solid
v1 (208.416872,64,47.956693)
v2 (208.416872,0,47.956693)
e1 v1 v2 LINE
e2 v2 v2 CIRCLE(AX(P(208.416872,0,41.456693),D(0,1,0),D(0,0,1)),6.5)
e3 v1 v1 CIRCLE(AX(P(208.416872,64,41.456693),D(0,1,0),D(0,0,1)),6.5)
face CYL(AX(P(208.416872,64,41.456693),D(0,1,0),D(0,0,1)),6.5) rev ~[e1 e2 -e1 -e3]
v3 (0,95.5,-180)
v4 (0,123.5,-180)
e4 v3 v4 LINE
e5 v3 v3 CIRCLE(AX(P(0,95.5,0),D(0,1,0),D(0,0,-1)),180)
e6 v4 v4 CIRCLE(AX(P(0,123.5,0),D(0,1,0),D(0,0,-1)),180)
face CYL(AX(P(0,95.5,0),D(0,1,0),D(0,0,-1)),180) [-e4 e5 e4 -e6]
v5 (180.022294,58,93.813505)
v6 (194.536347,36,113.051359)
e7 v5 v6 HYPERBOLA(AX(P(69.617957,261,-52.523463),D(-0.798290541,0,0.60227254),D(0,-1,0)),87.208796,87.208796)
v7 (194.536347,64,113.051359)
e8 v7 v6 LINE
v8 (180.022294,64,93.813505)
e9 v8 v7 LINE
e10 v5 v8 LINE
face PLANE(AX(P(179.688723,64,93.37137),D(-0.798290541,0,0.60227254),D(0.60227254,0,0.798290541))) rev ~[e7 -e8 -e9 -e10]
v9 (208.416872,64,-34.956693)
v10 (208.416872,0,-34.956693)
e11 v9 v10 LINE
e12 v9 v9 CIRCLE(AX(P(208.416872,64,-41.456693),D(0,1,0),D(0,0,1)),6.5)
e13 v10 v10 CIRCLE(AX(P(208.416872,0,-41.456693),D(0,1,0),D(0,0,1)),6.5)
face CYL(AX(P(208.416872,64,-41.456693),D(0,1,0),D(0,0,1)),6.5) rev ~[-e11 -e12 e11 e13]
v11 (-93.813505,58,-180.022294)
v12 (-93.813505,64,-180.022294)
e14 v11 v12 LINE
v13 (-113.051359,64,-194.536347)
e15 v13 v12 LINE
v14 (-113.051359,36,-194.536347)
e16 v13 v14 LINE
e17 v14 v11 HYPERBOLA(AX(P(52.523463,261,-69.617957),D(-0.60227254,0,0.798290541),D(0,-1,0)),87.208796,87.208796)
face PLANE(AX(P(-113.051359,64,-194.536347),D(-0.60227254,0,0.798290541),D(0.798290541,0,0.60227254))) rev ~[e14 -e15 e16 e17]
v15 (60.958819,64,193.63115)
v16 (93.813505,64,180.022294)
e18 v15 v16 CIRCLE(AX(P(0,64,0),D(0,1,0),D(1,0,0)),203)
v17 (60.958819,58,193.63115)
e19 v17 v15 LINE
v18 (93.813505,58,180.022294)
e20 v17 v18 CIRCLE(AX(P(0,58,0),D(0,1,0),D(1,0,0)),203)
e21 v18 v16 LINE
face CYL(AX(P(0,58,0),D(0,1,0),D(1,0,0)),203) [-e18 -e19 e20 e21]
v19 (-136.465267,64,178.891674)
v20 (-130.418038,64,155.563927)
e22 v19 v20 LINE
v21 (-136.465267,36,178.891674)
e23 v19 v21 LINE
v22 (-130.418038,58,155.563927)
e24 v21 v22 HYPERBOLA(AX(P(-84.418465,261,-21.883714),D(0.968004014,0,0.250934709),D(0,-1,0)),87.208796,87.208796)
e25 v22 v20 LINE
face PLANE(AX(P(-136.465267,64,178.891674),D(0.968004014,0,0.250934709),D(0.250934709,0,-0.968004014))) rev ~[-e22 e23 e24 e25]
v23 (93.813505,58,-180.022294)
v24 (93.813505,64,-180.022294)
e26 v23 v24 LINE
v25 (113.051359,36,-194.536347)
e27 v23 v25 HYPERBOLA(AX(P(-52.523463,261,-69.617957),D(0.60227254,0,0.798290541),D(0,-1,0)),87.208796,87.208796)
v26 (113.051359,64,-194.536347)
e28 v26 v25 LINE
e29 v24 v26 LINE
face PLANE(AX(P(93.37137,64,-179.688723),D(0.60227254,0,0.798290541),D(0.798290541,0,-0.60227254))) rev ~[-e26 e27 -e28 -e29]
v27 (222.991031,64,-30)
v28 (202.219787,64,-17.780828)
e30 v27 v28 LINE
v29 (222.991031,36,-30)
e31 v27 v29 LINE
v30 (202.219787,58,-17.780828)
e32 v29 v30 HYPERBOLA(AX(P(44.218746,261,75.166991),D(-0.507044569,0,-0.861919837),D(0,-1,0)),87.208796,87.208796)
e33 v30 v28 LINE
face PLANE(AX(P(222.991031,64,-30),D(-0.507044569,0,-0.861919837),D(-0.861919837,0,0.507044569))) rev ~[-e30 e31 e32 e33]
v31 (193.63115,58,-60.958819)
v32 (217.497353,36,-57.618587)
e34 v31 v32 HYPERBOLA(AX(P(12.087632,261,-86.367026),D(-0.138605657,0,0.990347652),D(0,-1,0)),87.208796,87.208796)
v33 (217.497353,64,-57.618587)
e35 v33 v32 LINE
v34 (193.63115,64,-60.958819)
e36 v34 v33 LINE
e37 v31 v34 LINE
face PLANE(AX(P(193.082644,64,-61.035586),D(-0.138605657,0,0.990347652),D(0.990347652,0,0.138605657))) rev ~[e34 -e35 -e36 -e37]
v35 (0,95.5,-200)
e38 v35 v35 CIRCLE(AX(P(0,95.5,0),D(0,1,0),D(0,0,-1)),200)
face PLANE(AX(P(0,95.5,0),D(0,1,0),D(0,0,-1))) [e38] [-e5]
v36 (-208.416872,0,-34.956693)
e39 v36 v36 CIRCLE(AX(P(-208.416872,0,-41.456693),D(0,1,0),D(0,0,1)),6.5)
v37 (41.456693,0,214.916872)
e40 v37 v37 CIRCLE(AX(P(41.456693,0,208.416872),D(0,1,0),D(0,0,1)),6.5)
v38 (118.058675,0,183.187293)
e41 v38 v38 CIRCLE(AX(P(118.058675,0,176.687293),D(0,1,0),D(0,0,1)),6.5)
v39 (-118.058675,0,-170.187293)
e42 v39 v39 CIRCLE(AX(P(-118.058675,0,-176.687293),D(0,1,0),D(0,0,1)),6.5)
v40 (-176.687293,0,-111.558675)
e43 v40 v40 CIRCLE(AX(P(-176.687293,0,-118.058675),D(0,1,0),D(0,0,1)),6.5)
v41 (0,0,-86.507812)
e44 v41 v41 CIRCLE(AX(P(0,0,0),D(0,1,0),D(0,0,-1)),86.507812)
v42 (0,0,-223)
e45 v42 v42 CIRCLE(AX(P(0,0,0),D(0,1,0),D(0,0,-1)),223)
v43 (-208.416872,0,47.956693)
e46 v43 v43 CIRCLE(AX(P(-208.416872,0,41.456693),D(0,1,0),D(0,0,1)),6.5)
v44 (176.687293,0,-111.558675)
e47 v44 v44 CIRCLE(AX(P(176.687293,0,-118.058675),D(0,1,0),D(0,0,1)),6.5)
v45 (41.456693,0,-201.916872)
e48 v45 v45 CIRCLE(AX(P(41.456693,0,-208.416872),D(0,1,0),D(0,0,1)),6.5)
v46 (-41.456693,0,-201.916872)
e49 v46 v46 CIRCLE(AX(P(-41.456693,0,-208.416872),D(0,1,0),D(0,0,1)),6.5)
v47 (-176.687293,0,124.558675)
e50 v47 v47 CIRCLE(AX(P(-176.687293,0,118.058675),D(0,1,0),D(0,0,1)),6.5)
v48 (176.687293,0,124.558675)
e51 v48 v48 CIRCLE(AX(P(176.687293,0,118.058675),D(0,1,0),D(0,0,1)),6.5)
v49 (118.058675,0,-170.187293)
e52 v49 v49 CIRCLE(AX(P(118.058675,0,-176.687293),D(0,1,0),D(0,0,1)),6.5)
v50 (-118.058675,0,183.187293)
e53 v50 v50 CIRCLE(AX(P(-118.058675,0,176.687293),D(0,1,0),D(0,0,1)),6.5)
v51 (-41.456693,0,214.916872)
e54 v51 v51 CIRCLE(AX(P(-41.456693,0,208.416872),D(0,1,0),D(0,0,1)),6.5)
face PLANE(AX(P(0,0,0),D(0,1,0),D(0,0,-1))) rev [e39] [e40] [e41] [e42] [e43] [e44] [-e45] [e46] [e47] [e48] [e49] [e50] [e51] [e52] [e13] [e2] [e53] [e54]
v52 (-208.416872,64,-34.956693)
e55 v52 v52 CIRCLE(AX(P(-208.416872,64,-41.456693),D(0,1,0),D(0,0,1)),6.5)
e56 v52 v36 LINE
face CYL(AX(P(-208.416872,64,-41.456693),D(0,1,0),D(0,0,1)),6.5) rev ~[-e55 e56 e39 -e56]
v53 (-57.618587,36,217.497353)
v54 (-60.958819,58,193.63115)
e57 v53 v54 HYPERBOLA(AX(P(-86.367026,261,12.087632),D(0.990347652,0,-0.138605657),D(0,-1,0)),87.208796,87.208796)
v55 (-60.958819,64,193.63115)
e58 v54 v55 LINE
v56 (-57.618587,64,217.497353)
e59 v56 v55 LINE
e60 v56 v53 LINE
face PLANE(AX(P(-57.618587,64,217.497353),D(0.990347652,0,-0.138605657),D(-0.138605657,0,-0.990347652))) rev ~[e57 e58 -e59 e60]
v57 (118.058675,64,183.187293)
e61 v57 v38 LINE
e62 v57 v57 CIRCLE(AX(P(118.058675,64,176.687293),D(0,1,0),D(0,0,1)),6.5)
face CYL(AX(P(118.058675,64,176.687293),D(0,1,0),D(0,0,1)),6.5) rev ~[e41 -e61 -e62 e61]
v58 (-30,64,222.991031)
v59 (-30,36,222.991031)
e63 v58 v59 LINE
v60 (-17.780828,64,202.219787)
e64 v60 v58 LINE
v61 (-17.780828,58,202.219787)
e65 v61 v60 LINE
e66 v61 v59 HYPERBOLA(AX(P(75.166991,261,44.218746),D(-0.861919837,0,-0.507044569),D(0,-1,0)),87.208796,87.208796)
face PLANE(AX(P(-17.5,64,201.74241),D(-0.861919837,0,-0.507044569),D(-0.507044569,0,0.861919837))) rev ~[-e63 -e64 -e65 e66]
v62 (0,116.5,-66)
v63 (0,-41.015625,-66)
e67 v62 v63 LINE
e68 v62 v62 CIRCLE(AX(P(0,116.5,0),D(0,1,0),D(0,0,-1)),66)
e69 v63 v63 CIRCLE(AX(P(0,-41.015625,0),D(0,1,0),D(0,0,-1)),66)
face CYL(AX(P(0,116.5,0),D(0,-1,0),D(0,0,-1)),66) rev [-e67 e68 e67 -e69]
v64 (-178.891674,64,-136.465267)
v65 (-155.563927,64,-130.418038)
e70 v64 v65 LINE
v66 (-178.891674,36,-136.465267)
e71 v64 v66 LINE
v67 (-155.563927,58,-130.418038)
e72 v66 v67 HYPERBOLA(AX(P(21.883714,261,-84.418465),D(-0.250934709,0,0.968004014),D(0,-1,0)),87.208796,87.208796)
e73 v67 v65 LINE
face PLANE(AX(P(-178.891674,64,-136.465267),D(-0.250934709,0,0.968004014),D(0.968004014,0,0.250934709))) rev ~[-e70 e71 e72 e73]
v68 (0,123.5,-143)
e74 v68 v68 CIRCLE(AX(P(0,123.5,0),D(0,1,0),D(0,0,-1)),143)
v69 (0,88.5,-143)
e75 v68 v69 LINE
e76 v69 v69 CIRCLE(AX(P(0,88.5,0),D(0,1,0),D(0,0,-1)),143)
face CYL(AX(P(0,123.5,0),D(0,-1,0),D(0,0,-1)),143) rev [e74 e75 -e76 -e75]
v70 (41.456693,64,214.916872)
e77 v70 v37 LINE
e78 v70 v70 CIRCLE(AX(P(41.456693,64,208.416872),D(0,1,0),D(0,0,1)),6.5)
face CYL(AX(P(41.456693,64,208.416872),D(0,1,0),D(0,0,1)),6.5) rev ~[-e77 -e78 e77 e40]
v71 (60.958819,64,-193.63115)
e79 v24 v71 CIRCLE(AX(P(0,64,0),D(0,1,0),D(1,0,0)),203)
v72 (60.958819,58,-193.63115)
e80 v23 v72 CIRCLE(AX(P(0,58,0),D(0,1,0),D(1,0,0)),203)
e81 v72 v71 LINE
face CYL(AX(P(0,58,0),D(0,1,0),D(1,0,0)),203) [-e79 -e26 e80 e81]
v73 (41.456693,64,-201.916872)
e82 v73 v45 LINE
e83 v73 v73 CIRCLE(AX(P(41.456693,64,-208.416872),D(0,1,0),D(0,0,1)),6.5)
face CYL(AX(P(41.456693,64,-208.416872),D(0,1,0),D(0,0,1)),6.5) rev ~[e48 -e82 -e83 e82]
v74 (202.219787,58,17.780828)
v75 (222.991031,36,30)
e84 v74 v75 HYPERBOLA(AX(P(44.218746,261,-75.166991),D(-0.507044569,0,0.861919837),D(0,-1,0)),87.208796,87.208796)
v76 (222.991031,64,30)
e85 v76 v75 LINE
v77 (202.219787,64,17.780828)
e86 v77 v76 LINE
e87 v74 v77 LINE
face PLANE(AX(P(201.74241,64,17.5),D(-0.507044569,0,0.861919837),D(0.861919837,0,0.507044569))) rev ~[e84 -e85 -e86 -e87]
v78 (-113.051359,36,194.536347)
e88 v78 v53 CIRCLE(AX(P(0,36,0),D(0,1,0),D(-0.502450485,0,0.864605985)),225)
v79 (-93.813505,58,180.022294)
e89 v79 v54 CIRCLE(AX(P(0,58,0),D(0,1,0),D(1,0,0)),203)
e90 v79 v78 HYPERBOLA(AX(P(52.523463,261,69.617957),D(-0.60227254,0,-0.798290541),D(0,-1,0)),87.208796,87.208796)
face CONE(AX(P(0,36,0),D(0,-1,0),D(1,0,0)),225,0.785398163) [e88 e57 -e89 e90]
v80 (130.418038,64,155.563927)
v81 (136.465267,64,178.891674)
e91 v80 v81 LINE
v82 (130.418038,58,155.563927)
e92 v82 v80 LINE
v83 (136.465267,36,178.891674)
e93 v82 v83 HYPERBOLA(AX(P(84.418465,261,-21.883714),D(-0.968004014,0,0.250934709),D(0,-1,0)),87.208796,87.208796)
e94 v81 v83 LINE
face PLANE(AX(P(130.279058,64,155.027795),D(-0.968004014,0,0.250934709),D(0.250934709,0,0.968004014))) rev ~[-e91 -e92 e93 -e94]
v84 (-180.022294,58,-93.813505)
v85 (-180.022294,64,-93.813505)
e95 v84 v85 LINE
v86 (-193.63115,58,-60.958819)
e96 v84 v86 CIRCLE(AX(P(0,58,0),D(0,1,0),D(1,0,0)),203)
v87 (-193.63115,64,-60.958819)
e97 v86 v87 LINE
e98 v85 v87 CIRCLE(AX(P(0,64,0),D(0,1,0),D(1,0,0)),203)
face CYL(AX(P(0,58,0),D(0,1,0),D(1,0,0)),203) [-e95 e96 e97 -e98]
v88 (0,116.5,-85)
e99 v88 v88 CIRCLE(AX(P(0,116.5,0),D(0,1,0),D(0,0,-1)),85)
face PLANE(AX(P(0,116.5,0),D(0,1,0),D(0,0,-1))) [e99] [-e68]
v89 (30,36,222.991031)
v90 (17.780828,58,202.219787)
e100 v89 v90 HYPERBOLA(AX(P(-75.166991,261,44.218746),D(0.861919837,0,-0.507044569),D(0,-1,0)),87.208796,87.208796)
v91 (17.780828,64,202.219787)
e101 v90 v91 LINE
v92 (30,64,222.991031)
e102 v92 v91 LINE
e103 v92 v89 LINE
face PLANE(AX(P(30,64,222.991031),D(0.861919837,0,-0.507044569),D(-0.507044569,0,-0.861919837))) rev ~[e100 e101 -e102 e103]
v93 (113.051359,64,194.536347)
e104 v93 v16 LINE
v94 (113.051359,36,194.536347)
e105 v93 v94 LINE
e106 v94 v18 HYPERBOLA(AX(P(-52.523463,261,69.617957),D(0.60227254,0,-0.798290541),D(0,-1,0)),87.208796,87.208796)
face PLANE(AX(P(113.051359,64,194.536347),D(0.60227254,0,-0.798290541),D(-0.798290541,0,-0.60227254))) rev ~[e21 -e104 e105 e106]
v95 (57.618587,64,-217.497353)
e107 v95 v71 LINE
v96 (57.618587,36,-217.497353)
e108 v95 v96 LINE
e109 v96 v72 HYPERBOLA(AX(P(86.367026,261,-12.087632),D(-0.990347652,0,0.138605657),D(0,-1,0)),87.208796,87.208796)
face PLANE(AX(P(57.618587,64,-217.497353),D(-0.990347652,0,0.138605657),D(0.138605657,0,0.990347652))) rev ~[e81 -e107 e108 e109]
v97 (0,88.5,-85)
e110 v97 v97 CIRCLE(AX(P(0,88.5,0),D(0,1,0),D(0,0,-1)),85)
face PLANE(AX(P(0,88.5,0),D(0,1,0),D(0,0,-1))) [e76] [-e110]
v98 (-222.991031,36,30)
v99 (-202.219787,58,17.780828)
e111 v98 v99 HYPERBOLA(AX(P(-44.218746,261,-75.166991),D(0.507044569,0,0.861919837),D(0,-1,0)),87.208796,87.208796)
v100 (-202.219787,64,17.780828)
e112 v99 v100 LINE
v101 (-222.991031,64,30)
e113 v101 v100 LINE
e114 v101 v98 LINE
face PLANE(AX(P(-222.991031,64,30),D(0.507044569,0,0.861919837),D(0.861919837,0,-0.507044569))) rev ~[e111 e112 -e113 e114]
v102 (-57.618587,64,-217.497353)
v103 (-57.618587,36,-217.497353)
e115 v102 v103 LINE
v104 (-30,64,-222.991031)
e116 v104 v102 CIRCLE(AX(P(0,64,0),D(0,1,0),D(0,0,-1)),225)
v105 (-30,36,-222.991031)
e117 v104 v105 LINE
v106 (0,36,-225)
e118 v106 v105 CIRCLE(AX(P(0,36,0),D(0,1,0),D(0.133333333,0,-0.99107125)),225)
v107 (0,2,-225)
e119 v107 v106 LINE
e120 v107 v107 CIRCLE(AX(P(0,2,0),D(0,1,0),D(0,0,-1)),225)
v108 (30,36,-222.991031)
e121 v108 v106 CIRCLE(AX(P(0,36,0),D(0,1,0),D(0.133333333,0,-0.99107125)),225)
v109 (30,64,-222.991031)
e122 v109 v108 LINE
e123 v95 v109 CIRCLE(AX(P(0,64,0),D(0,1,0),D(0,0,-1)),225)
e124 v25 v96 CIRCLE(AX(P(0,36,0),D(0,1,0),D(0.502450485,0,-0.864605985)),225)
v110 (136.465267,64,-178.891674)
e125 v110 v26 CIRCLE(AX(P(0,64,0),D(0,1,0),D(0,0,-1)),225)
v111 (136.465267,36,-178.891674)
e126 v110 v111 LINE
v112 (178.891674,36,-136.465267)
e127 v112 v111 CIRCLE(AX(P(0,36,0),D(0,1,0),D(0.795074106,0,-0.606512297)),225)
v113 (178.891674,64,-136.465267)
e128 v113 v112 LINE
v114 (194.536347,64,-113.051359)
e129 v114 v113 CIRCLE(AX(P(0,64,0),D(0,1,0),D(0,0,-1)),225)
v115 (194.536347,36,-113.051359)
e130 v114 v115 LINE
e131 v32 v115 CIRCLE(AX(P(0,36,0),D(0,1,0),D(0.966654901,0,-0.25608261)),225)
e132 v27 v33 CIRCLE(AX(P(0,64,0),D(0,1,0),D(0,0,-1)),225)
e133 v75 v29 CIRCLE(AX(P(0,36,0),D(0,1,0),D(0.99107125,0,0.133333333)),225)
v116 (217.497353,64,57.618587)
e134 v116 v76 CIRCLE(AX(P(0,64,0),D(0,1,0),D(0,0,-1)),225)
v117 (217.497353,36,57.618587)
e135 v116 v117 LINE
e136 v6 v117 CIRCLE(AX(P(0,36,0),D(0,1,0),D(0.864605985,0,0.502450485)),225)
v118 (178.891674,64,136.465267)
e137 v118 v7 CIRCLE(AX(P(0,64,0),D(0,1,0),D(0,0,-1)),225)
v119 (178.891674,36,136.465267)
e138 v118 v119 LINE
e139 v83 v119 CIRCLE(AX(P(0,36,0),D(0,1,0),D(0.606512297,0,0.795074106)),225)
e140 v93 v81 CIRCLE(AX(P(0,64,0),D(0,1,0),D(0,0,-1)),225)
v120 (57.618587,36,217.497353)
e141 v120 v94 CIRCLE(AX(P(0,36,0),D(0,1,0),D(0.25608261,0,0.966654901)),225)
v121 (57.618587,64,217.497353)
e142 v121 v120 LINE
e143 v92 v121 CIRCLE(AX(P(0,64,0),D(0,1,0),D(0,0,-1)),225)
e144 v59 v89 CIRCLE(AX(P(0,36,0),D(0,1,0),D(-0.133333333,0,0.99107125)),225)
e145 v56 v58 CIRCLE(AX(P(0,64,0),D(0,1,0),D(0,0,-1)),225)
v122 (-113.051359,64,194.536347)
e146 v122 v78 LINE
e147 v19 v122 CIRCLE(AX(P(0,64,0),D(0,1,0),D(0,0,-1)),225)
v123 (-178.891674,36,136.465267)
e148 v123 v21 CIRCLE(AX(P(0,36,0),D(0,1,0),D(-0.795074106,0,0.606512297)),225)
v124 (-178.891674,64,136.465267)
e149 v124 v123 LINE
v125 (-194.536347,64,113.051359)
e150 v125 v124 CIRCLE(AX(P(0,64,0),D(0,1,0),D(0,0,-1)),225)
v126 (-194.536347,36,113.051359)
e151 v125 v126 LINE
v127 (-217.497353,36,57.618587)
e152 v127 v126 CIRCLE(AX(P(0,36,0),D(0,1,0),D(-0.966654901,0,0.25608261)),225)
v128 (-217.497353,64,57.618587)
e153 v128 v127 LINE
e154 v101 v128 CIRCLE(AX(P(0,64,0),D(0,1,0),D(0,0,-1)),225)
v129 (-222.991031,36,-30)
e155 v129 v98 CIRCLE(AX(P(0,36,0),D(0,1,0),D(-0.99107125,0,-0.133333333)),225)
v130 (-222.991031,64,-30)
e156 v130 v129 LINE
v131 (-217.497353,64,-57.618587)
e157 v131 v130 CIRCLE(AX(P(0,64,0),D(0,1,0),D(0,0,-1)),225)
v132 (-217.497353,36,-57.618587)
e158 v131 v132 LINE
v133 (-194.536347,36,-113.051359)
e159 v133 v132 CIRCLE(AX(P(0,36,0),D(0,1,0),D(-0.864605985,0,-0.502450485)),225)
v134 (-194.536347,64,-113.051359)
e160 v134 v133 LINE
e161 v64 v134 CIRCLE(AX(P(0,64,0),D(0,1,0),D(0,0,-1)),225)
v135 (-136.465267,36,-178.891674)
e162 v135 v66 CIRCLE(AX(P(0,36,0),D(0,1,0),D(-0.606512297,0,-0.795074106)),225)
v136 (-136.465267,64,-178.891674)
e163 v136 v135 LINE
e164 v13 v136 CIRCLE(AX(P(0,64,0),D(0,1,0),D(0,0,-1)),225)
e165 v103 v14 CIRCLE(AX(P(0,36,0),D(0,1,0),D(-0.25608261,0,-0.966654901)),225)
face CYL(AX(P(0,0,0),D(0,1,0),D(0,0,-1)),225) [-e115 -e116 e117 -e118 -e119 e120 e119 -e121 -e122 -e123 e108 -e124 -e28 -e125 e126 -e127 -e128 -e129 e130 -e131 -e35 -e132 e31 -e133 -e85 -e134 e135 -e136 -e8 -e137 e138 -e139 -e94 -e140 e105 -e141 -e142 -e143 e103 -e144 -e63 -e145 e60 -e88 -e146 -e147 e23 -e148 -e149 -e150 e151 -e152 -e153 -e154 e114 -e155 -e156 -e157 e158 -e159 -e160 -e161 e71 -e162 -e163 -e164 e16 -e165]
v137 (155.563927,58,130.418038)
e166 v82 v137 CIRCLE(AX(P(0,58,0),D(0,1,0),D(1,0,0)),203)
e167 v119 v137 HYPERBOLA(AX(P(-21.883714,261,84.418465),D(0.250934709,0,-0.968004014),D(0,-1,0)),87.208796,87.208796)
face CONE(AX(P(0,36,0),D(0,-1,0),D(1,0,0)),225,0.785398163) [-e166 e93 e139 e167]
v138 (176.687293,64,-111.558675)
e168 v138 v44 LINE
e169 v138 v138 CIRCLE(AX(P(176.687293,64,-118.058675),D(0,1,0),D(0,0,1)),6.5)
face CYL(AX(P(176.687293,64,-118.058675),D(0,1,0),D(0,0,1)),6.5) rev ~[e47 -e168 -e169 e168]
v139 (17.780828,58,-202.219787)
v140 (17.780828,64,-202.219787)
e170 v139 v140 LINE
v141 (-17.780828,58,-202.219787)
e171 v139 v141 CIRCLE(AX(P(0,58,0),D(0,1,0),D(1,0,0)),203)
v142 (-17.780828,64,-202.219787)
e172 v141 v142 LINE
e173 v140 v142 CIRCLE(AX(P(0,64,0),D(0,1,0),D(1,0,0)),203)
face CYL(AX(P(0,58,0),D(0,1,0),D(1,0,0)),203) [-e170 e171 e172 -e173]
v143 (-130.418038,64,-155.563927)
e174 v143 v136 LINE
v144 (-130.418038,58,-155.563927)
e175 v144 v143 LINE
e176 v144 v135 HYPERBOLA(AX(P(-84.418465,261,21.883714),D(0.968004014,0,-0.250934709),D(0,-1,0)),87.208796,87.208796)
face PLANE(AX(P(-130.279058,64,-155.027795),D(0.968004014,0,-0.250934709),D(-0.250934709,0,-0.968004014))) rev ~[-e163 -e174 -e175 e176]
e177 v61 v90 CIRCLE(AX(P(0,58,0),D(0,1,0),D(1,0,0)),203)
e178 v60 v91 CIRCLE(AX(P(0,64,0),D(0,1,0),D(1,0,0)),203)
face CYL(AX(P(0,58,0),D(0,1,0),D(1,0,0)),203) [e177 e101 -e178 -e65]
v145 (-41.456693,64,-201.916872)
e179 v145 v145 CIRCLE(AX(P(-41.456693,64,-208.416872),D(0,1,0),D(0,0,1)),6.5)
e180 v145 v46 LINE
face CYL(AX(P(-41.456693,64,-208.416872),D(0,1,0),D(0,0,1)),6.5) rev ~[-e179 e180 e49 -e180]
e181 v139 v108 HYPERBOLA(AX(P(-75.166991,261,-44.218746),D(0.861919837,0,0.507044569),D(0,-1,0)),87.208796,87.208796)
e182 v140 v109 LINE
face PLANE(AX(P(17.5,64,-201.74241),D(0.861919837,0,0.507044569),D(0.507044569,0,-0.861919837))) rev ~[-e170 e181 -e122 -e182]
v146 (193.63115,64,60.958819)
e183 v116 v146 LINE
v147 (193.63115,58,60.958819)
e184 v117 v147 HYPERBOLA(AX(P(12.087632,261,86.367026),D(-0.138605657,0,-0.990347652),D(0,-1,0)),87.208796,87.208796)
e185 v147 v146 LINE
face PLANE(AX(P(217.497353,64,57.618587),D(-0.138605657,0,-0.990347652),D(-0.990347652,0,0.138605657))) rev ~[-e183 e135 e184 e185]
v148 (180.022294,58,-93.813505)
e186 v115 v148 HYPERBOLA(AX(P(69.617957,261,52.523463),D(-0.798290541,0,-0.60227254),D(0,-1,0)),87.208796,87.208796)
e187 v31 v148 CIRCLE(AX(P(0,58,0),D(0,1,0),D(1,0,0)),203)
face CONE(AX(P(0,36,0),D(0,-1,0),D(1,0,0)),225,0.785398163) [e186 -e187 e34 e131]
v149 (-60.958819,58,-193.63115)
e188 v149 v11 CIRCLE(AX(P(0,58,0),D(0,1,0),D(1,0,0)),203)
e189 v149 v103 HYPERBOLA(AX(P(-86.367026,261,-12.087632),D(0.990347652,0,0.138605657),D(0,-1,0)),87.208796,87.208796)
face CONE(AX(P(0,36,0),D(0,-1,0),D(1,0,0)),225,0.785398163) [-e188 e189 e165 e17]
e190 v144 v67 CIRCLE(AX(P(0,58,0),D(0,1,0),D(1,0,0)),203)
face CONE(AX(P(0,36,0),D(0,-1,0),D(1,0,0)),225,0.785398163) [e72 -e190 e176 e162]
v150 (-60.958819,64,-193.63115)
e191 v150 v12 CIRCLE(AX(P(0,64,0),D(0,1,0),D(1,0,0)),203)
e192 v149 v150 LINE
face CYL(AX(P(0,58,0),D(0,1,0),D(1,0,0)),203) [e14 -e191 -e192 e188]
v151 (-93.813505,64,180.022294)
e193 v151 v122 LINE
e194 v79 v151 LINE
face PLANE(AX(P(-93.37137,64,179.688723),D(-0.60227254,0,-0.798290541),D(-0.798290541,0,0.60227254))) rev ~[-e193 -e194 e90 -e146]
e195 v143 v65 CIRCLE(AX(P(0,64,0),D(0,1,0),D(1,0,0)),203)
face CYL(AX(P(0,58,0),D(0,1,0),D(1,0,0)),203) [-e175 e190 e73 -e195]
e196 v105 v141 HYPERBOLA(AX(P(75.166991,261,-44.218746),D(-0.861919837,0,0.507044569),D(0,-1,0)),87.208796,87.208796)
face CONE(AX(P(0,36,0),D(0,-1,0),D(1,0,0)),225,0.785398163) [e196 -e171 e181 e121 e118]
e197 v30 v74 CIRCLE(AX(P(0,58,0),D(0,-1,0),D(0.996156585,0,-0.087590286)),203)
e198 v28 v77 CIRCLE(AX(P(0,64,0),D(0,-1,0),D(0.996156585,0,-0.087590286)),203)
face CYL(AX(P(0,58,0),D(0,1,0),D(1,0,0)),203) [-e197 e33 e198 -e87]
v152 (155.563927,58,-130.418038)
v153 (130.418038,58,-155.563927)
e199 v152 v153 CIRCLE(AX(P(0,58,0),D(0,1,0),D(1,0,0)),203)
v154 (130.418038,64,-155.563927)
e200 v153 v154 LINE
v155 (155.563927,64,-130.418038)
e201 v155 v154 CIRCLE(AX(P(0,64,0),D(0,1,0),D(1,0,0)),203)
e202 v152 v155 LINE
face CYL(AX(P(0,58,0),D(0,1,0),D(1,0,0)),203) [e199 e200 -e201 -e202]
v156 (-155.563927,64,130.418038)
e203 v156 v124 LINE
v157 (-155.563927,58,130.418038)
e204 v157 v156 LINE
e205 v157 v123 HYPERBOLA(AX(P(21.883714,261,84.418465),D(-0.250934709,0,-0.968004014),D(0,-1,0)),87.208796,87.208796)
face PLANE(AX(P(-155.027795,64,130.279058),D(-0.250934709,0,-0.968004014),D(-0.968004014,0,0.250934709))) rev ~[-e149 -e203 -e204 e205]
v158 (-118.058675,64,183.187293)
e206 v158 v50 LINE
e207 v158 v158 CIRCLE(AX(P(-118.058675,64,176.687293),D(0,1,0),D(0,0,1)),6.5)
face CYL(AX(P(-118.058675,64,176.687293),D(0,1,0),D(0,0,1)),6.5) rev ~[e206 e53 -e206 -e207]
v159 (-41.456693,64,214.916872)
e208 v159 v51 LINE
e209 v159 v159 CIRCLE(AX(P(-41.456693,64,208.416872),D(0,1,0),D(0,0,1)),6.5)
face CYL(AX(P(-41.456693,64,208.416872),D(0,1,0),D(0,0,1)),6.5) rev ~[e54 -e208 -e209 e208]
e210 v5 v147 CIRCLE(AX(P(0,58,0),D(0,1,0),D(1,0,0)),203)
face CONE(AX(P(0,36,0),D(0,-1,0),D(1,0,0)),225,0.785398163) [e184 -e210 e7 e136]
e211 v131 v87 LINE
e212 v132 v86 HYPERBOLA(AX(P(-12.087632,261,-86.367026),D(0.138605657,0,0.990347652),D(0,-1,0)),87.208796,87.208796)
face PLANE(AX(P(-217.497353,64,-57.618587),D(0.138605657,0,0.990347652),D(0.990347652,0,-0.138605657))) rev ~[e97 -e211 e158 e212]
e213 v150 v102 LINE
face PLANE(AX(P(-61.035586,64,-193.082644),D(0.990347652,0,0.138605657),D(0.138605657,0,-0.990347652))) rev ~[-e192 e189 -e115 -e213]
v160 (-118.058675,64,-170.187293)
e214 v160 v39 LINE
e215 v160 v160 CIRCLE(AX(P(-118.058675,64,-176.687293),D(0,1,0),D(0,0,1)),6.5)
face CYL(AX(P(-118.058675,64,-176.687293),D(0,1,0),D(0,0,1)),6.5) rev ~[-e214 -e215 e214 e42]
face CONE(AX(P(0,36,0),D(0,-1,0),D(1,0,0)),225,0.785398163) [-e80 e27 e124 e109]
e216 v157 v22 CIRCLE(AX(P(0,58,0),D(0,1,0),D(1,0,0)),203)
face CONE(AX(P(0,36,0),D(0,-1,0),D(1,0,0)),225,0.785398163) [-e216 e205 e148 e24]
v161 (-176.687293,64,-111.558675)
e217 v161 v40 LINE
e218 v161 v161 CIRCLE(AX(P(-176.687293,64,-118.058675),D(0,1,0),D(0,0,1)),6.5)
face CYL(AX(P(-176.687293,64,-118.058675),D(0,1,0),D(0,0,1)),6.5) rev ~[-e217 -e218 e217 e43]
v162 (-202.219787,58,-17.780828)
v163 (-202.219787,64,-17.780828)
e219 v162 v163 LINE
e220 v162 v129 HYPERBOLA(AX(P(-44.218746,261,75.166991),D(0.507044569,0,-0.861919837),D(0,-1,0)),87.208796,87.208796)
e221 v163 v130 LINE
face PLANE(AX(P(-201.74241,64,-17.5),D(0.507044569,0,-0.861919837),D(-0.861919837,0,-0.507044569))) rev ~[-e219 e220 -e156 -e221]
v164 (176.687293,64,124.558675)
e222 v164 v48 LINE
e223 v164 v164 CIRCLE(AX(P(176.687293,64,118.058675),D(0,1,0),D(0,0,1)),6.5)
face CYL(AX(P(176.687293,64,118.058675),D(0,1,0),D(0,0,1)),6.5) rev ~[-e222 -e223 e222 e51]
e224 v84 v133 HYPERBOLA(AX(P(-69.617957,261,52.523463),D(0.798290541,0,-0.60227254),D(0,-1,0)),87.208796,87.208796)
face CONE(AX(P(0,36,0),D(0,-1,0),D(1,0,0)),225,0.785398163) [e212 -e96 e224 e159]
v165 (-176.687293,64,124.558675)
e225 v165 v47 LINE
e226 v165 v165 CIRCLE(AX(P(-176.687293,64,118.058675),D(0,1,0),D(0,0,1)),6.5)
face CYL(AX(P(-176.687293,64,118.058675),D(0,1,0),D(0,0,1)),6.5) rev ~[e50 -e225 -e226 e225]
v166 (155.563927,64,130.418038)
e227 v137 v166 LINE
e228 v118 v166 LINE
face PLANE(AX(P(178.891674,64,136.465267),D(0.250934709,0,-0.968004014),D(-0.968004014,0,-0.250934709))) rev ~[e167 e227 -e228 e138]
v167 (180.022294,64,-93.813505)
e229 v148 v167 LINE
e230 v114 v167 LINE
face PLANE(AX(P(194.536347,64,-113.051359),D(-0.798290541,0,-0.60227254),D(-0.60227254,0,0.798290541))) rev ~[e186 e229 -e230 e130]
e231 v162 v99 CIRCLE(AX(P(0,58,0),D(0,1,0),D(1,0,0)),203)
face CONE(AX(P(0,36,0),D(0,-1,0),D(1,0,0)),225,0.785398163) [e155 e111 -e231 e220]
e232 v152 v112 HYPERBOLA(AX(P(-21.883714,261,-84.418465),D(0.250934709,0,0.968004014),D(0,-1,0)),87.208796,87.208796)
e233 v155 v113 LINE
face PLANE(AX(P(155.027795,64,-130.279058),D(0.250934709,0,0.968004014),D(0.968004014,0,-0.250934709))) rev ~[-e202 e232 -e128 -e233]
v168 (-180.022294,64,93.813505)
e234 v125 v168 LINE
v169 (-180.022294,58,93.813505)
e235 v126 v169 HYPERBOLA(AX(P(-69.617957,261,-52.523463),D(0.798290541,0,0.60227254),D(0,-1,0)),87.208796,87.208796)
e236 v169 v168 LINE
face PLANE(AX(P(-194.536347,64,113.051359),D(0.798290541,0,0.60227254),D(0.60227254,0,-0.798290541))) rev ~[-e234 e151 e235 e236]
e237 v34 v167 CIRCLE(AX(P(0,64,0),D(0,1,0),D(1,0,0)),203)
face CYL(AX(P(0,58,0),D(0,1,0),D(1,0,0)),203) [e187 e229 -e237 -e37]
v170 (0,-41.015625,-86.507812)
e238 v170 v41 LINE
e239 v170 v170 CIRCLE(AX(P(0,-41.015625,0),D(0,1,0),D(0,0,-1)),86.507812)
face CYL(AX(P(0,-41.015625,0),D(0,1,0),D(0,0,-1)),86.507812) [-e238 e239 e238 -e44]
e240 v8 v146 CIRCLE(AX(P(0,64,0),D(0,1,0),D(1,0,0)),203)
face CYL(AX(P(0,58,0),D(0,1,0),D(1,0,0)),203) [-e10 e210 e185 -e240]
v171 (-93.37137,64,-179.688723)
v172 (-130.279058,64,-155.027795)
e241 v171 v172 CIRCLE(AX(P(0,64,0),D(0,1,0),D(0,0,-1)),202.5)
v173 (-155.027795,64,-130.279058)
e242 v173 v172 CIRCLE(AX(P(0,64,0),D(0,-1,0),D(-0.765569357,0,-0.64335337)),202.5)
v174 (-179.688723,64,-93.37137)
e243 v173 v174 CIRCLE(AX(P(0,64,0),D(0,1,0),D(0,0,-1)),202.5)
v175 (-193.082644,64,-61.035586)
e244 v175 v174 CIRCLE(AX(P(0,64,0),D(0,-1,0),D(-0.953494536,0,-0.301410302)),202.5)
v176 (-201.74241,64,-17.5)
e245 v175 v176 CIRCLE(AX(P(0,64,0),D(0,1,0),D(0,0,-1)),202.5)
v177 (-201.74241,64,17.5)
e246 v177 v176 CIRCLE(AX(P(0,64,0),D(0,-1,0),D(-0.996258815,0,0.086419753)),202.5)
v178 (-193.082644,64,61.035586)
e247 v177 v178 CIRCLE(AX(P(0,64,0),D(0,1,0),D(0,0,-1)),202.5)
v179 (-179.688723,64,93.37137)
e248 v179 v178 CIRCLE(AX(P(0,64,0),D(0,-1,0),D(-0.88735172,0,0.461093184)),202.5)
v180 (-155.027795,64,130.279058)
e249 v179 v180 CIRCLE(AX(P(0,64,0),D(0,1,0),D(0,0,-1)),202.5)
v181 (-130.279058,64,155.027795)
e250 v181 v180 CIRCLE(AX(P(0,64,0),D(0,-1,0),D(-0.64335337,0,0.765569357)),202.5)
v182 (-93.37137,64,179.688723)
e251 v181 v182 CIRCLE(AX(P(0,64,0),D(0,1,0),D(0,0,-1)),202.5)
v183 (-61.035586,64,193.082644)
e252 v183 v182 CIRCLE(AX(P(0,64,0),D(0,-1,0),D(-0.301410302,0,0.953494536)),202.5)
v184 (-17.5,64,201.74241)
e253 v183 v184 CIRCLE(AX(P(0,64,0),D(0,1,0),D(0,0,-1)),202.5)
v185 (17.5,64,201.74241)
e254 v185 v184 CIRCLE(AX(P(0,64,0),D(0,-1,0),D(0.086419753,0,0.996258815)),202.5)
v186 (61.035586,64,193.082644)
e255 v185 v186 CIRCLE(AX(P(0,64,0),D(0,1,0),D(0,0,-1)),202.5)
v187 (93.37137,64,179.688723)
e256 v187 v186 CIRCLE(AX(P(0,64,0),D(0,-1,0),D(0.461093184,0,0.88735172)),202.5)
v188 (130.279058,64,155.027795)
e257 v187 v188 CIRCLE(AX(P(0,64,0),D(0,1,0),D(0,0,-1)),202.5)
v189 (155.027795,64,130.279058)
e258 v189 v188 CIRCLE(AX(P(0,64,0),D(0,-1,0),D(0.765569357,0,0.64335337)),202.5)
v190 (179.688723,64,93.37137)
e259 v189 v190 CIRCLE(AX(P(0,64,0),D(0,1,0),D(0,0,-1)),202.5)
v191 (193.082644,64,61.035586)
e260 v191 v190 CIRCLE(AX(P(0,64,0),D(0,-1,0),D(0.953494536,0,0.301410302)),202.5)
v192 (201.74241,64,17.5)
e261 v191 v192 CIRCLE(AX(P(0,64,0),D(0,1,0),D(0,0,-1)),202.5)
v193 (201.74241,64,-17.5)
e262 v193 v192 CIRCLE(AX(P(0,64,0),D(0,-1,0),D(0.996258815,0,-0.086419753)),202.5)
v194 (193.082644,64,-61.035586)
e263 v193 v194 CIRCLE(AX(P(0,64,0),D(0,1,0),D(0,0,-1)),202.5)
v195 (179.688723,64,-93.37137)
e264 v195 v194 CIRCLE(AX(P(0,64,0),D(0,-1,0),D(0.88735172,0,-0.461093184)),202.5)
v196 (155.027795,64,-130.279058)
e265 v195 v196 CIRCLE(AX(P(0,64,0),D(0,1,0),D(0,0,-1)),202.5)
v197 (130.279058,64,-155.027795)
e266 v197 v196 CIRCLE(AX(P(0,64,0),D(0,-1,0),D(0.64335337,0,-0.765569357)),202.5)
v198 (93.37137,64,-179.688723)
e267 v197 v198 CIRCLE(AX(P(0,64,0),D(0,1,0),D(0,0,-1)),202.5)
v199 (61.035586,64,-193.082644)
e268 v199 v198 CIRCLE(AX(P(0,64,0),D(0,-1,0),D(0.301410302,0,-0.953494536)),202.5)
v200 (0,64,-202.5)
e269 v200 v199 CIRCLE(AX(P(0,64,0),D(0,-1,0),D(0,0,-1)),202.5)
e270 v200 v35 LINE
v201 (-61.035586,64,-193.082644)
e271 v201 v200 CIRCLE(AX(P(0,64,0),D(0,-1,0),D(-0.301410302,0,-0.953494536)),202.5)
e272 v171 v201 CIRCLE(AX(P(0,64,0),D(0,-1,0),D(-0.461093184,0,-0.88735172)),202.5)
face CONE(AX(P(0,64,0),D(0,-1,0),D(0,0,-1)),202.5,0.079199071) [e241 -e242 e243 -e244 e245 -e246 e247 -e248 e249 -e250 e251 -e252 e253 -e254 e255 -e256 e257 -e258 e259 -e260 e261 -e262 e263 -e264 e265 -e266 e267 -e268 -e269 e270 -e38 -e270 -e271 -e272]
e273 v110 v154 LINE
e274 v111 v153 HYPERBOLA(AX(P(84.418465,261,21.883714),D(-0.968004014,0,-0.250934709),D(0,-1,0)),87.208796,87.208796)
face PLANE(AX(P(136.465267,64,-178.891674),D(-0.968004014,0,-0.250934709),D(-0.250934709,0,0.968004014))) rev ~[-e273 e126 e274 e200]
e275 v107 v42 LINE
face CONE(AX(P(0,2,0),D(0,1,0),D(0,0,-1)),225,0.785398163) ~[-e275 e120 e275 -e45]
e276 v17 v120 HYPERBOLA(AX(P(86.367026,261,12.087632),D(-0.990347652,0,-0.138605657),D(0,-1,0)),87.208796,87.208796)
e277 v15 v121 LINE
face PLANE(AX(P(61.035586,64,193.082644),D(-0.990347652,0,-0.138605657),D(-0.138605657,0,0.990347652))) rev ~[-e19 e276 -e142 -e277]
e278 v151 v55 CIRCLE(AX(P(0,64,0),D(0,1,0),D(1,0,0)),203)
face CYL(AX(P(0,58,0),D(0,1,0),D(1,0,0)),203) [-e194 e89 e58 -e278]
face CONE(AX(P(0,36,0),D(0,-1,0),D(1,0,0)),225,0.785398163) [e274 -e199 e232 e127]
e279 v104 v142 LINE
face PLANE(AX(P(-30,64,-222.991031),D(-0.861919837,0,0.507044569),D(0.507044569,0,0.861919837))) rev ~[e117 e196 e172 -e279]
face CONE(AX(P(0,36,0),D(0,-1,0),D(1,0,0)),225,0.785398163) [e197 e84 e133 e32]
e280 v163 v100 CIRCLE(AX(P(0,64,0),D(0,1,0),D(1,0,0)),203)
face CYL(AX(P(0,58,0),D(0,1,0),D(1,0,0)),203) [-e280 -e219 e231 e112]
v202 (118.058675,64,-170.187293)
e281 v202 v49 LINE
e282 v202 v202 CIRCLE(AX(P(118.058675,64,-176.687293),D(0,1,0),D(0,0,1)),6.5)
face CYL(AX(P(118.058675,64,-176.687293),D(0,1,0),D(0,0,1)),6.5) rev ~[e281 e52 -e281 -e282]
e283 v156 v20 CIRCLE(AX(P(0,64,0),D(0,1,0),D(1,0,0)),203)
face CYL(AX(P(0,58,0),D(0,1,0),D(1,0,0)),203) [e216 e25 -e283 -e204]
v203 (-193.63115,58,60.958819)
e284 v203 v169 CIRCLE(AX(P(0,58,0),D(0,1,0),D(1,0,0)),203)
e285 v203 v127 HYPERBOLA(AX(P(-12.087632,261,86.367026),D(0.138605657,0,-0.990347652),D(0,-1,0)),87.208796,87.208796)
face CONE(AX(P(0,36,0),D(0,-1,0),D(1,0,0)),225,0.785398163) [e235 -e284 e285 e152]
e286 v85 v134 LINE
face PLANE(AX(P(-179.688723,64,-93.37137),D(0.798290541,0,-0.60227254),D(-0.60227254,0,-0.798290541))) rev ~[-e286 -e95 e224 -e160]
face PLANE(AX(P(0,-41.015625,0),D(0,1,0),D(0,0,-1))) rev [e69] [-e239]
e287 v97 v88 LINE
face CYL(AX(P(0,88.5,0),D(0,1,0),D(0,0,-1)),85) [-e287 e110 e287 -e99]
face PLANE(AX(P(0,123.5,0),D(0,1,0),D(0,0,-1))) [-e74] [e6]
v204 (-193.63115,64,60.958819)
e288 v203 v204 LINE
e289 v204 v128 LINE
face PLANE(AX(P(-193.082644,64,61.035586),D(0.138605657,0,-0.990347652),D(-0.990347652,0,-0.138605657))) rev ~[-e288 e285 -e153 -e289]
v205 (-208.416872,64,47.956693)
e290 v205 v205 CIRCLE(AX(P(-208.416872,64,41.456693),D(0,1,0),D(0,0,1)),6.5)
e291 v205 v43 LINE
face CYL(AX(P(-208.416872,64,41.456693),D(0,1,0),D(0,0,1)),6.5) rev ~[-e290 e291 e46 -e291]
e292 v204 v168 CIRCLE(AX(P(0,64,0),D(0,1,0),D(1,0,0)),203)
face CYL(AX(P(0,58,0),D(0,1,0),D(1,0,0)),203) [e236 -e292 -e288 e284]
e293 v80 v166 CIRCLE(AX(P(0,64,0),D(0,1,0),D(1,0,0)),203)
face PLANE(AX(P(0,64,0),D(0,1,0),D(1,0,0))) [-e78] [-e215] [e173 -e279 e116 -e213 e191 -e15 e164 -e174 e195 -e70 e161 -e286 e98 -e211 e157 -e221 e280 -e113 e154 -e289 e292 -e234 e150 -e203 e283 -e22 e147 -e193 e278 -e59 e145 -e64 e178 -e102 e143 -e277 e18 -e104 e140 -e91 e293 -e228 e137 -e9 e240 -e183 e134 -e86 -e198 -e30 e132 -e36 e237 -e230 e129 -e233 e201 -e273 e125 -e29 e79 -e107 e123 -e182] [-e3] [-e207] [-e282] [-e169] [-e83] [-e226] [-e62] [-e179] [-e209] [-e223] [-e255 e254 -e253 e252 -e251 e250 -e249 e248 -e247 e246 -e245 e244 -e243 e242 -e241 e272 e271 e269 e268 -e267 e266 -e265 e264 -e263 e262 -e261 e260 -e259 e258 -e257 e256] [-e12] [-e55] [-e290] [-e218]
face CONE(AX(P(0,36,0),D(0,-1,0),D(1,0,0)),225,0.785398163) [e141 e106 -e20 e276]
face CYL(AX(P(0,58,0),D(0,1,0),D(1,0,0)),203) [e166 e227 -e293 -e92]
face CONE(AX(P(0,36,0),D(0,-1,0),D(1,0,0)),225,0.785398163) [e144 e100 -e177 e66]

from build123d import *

# Parameters (mm, degrees)
CUT_EXTRUDE1_DEPTH = 28
CIRPATTERN1_COUNT  = 16
SKETCH5_R          = 6.5
CUT_EXTRUDE2_DEPTH = 336.079515181
CHAMFER1_SIZE      = 2


with BuildPart() as part:
    # Sketch1 → Revolve1 (revolve)
    with BuildSketch(Plane.XY, mode=Mode.PRIVATE) as revolve1_sk:
        Polygon((225, 0), (225, 64), (202.5, 64), (200, 95.5), (180, 95.5), (180, 123.5), (143, 123.5), (143, 88.5), (85, 88.5), (85, 116.5), (66, 116.5), (66, -41.015625), (86.5078125, -41.015625), (86.5078125, 0), align=None)
    revolve(revolve1_sk.sketch.rotate(Axis((0, 0, 0), (0, 1, 0)), 90), axis=Axis((0, 0, 0), (0, 1, 0)))

    # Sketch3 → Cut-Extrude1 (cut)
    with BuildSketch(Plane(origin=(0, 64, 0), x_dir=(1, 0, 0), z_dir=(0, 1, 0))):
        with BuildLine():
            Line((222.99103121, 30), (201.742410018, 17.5))
            ThreePointArc((201.742410018, 17.5), (202.5, 0), (201.742410018, -17.5))
            Line((201.742410018, -17.5), (222.99103121, -30))
            ThreePointArc((222.99103121, -30), (225, 0), (222.99103121, 30))
        make_face()
    cut_extrude1 = extrude(amount=-CUT_EXTRUDE1_DEPTH, mode=Mode.SUBTRACT)

    # CirPattern1: Cut-Extrude1 ×16 about axis
    cirpattern1_axis = Axis((0, 0, 0), (0, 1, 0))
    for i in range(1, CIRPATTERN1_COUNT):
        add(cut_extrude1.rotate(cirpattern1_axis, i * 360 / CIRPATTERN1_COUNT), mode=Mode.SUBTRACT)

    # Sketch4 → Revolve2 (revolve)
    with BuildSketch(Plane.XY):
        Polygon((225, 36), (203, 58), (203, 64), (195, 64), (195, 0), (225, 0), align=None)
    revolve(axis=Axis((0, 0, 0), (0, 1, 0)))

    # Sketch5 → Cut-Extrude2 (cut, through all)
    with BuildSketch(Plane(origin=(0, 64, 0), x_dir=(1, 0, 0), z_dir=(0, 1, 0))):
        with Locations(Location((208.416872086, 41.456693428, 0), (0, 0, 270))):
            Circle(SKETCH5_R)
        with Locations(Location((208.416872086, -41.456693428, 0), (0, 0, 270))):
            Circle(SKETCH5_R)
        with Locations(Location((176.687292614, -118.058674517, 0), (0, 0, 270))):
            Circle(SKETCH5_R)
        with Locations(Location((118.058674517, -176.687292614, 0), (0, 0, 270))):
            Circle(SKETCH5_R)
        with Locations(Location((41.456693428, -208.416872086, 0), (0, 0, 270))):
            Circle(SKETCH5_R)
        with Locations(Location((-41.456693428, -208.416872086, 0), (0, 0, 270))):
            Circle(SKETCH5_R)
        with Locations(Location((-118.058674517, -176.687292614, 0), (0, 0, 270))):
            Circle(SKETCH5_R)
        with Locations(Location((-176.687292614, -118.058674517, 0), (0, 0, 270))):
            Circle(SKETCH5_R)
        with Locations(Location((-208.416872086, -41.456693428, 0), (0, 0, 270))):
            Circle(SKETCH5_R)
        with Locations(Location((-208.416872086, 41.456693428, 0), (0, 0, 270))):
            Circle(SKETCH5_R)
        with Locations(Location((-176.687292614, 118.058674517, 0), (0, 0, 270))):
            Circle(SKETCH5_R)
        with Locations(Location((-118.058674517, 176.687292614, 0), (0, 0, 270))):
            Circle(SKETCH5_R)
        with Locations(Location((-41.456693428, 208.416872086, 0), (0, 0, 270))):
            Circle(SKETCH5_R)
        with Locations(Location((41.456693428, 208.416872086, 0), (0, 0, 270))):
            Circle(SKETCH5_R)
        with Locations(Location((118.058674517, 176.687292614, 0), (0, 0, 270))):
            Circle(SKETCH5_R)
        with Locations(Location((176.687292614, 118.058674517, 0), (0, 0, 270))):
            Circle(SKETCH5_R)
    extrude(amount=-CUT_EXTRUDE2_DEPTH, mode=Mode.SUBTRACT)

    # Chamfer1
    chamfer1_edges = [part.edges().sort_by_distance(p)[0] for p in [
        (0, 0, 225),
    ]]
    chamfer(chamfer1_edges, length=CHAMFER1_SIZE)


solid = part.part
